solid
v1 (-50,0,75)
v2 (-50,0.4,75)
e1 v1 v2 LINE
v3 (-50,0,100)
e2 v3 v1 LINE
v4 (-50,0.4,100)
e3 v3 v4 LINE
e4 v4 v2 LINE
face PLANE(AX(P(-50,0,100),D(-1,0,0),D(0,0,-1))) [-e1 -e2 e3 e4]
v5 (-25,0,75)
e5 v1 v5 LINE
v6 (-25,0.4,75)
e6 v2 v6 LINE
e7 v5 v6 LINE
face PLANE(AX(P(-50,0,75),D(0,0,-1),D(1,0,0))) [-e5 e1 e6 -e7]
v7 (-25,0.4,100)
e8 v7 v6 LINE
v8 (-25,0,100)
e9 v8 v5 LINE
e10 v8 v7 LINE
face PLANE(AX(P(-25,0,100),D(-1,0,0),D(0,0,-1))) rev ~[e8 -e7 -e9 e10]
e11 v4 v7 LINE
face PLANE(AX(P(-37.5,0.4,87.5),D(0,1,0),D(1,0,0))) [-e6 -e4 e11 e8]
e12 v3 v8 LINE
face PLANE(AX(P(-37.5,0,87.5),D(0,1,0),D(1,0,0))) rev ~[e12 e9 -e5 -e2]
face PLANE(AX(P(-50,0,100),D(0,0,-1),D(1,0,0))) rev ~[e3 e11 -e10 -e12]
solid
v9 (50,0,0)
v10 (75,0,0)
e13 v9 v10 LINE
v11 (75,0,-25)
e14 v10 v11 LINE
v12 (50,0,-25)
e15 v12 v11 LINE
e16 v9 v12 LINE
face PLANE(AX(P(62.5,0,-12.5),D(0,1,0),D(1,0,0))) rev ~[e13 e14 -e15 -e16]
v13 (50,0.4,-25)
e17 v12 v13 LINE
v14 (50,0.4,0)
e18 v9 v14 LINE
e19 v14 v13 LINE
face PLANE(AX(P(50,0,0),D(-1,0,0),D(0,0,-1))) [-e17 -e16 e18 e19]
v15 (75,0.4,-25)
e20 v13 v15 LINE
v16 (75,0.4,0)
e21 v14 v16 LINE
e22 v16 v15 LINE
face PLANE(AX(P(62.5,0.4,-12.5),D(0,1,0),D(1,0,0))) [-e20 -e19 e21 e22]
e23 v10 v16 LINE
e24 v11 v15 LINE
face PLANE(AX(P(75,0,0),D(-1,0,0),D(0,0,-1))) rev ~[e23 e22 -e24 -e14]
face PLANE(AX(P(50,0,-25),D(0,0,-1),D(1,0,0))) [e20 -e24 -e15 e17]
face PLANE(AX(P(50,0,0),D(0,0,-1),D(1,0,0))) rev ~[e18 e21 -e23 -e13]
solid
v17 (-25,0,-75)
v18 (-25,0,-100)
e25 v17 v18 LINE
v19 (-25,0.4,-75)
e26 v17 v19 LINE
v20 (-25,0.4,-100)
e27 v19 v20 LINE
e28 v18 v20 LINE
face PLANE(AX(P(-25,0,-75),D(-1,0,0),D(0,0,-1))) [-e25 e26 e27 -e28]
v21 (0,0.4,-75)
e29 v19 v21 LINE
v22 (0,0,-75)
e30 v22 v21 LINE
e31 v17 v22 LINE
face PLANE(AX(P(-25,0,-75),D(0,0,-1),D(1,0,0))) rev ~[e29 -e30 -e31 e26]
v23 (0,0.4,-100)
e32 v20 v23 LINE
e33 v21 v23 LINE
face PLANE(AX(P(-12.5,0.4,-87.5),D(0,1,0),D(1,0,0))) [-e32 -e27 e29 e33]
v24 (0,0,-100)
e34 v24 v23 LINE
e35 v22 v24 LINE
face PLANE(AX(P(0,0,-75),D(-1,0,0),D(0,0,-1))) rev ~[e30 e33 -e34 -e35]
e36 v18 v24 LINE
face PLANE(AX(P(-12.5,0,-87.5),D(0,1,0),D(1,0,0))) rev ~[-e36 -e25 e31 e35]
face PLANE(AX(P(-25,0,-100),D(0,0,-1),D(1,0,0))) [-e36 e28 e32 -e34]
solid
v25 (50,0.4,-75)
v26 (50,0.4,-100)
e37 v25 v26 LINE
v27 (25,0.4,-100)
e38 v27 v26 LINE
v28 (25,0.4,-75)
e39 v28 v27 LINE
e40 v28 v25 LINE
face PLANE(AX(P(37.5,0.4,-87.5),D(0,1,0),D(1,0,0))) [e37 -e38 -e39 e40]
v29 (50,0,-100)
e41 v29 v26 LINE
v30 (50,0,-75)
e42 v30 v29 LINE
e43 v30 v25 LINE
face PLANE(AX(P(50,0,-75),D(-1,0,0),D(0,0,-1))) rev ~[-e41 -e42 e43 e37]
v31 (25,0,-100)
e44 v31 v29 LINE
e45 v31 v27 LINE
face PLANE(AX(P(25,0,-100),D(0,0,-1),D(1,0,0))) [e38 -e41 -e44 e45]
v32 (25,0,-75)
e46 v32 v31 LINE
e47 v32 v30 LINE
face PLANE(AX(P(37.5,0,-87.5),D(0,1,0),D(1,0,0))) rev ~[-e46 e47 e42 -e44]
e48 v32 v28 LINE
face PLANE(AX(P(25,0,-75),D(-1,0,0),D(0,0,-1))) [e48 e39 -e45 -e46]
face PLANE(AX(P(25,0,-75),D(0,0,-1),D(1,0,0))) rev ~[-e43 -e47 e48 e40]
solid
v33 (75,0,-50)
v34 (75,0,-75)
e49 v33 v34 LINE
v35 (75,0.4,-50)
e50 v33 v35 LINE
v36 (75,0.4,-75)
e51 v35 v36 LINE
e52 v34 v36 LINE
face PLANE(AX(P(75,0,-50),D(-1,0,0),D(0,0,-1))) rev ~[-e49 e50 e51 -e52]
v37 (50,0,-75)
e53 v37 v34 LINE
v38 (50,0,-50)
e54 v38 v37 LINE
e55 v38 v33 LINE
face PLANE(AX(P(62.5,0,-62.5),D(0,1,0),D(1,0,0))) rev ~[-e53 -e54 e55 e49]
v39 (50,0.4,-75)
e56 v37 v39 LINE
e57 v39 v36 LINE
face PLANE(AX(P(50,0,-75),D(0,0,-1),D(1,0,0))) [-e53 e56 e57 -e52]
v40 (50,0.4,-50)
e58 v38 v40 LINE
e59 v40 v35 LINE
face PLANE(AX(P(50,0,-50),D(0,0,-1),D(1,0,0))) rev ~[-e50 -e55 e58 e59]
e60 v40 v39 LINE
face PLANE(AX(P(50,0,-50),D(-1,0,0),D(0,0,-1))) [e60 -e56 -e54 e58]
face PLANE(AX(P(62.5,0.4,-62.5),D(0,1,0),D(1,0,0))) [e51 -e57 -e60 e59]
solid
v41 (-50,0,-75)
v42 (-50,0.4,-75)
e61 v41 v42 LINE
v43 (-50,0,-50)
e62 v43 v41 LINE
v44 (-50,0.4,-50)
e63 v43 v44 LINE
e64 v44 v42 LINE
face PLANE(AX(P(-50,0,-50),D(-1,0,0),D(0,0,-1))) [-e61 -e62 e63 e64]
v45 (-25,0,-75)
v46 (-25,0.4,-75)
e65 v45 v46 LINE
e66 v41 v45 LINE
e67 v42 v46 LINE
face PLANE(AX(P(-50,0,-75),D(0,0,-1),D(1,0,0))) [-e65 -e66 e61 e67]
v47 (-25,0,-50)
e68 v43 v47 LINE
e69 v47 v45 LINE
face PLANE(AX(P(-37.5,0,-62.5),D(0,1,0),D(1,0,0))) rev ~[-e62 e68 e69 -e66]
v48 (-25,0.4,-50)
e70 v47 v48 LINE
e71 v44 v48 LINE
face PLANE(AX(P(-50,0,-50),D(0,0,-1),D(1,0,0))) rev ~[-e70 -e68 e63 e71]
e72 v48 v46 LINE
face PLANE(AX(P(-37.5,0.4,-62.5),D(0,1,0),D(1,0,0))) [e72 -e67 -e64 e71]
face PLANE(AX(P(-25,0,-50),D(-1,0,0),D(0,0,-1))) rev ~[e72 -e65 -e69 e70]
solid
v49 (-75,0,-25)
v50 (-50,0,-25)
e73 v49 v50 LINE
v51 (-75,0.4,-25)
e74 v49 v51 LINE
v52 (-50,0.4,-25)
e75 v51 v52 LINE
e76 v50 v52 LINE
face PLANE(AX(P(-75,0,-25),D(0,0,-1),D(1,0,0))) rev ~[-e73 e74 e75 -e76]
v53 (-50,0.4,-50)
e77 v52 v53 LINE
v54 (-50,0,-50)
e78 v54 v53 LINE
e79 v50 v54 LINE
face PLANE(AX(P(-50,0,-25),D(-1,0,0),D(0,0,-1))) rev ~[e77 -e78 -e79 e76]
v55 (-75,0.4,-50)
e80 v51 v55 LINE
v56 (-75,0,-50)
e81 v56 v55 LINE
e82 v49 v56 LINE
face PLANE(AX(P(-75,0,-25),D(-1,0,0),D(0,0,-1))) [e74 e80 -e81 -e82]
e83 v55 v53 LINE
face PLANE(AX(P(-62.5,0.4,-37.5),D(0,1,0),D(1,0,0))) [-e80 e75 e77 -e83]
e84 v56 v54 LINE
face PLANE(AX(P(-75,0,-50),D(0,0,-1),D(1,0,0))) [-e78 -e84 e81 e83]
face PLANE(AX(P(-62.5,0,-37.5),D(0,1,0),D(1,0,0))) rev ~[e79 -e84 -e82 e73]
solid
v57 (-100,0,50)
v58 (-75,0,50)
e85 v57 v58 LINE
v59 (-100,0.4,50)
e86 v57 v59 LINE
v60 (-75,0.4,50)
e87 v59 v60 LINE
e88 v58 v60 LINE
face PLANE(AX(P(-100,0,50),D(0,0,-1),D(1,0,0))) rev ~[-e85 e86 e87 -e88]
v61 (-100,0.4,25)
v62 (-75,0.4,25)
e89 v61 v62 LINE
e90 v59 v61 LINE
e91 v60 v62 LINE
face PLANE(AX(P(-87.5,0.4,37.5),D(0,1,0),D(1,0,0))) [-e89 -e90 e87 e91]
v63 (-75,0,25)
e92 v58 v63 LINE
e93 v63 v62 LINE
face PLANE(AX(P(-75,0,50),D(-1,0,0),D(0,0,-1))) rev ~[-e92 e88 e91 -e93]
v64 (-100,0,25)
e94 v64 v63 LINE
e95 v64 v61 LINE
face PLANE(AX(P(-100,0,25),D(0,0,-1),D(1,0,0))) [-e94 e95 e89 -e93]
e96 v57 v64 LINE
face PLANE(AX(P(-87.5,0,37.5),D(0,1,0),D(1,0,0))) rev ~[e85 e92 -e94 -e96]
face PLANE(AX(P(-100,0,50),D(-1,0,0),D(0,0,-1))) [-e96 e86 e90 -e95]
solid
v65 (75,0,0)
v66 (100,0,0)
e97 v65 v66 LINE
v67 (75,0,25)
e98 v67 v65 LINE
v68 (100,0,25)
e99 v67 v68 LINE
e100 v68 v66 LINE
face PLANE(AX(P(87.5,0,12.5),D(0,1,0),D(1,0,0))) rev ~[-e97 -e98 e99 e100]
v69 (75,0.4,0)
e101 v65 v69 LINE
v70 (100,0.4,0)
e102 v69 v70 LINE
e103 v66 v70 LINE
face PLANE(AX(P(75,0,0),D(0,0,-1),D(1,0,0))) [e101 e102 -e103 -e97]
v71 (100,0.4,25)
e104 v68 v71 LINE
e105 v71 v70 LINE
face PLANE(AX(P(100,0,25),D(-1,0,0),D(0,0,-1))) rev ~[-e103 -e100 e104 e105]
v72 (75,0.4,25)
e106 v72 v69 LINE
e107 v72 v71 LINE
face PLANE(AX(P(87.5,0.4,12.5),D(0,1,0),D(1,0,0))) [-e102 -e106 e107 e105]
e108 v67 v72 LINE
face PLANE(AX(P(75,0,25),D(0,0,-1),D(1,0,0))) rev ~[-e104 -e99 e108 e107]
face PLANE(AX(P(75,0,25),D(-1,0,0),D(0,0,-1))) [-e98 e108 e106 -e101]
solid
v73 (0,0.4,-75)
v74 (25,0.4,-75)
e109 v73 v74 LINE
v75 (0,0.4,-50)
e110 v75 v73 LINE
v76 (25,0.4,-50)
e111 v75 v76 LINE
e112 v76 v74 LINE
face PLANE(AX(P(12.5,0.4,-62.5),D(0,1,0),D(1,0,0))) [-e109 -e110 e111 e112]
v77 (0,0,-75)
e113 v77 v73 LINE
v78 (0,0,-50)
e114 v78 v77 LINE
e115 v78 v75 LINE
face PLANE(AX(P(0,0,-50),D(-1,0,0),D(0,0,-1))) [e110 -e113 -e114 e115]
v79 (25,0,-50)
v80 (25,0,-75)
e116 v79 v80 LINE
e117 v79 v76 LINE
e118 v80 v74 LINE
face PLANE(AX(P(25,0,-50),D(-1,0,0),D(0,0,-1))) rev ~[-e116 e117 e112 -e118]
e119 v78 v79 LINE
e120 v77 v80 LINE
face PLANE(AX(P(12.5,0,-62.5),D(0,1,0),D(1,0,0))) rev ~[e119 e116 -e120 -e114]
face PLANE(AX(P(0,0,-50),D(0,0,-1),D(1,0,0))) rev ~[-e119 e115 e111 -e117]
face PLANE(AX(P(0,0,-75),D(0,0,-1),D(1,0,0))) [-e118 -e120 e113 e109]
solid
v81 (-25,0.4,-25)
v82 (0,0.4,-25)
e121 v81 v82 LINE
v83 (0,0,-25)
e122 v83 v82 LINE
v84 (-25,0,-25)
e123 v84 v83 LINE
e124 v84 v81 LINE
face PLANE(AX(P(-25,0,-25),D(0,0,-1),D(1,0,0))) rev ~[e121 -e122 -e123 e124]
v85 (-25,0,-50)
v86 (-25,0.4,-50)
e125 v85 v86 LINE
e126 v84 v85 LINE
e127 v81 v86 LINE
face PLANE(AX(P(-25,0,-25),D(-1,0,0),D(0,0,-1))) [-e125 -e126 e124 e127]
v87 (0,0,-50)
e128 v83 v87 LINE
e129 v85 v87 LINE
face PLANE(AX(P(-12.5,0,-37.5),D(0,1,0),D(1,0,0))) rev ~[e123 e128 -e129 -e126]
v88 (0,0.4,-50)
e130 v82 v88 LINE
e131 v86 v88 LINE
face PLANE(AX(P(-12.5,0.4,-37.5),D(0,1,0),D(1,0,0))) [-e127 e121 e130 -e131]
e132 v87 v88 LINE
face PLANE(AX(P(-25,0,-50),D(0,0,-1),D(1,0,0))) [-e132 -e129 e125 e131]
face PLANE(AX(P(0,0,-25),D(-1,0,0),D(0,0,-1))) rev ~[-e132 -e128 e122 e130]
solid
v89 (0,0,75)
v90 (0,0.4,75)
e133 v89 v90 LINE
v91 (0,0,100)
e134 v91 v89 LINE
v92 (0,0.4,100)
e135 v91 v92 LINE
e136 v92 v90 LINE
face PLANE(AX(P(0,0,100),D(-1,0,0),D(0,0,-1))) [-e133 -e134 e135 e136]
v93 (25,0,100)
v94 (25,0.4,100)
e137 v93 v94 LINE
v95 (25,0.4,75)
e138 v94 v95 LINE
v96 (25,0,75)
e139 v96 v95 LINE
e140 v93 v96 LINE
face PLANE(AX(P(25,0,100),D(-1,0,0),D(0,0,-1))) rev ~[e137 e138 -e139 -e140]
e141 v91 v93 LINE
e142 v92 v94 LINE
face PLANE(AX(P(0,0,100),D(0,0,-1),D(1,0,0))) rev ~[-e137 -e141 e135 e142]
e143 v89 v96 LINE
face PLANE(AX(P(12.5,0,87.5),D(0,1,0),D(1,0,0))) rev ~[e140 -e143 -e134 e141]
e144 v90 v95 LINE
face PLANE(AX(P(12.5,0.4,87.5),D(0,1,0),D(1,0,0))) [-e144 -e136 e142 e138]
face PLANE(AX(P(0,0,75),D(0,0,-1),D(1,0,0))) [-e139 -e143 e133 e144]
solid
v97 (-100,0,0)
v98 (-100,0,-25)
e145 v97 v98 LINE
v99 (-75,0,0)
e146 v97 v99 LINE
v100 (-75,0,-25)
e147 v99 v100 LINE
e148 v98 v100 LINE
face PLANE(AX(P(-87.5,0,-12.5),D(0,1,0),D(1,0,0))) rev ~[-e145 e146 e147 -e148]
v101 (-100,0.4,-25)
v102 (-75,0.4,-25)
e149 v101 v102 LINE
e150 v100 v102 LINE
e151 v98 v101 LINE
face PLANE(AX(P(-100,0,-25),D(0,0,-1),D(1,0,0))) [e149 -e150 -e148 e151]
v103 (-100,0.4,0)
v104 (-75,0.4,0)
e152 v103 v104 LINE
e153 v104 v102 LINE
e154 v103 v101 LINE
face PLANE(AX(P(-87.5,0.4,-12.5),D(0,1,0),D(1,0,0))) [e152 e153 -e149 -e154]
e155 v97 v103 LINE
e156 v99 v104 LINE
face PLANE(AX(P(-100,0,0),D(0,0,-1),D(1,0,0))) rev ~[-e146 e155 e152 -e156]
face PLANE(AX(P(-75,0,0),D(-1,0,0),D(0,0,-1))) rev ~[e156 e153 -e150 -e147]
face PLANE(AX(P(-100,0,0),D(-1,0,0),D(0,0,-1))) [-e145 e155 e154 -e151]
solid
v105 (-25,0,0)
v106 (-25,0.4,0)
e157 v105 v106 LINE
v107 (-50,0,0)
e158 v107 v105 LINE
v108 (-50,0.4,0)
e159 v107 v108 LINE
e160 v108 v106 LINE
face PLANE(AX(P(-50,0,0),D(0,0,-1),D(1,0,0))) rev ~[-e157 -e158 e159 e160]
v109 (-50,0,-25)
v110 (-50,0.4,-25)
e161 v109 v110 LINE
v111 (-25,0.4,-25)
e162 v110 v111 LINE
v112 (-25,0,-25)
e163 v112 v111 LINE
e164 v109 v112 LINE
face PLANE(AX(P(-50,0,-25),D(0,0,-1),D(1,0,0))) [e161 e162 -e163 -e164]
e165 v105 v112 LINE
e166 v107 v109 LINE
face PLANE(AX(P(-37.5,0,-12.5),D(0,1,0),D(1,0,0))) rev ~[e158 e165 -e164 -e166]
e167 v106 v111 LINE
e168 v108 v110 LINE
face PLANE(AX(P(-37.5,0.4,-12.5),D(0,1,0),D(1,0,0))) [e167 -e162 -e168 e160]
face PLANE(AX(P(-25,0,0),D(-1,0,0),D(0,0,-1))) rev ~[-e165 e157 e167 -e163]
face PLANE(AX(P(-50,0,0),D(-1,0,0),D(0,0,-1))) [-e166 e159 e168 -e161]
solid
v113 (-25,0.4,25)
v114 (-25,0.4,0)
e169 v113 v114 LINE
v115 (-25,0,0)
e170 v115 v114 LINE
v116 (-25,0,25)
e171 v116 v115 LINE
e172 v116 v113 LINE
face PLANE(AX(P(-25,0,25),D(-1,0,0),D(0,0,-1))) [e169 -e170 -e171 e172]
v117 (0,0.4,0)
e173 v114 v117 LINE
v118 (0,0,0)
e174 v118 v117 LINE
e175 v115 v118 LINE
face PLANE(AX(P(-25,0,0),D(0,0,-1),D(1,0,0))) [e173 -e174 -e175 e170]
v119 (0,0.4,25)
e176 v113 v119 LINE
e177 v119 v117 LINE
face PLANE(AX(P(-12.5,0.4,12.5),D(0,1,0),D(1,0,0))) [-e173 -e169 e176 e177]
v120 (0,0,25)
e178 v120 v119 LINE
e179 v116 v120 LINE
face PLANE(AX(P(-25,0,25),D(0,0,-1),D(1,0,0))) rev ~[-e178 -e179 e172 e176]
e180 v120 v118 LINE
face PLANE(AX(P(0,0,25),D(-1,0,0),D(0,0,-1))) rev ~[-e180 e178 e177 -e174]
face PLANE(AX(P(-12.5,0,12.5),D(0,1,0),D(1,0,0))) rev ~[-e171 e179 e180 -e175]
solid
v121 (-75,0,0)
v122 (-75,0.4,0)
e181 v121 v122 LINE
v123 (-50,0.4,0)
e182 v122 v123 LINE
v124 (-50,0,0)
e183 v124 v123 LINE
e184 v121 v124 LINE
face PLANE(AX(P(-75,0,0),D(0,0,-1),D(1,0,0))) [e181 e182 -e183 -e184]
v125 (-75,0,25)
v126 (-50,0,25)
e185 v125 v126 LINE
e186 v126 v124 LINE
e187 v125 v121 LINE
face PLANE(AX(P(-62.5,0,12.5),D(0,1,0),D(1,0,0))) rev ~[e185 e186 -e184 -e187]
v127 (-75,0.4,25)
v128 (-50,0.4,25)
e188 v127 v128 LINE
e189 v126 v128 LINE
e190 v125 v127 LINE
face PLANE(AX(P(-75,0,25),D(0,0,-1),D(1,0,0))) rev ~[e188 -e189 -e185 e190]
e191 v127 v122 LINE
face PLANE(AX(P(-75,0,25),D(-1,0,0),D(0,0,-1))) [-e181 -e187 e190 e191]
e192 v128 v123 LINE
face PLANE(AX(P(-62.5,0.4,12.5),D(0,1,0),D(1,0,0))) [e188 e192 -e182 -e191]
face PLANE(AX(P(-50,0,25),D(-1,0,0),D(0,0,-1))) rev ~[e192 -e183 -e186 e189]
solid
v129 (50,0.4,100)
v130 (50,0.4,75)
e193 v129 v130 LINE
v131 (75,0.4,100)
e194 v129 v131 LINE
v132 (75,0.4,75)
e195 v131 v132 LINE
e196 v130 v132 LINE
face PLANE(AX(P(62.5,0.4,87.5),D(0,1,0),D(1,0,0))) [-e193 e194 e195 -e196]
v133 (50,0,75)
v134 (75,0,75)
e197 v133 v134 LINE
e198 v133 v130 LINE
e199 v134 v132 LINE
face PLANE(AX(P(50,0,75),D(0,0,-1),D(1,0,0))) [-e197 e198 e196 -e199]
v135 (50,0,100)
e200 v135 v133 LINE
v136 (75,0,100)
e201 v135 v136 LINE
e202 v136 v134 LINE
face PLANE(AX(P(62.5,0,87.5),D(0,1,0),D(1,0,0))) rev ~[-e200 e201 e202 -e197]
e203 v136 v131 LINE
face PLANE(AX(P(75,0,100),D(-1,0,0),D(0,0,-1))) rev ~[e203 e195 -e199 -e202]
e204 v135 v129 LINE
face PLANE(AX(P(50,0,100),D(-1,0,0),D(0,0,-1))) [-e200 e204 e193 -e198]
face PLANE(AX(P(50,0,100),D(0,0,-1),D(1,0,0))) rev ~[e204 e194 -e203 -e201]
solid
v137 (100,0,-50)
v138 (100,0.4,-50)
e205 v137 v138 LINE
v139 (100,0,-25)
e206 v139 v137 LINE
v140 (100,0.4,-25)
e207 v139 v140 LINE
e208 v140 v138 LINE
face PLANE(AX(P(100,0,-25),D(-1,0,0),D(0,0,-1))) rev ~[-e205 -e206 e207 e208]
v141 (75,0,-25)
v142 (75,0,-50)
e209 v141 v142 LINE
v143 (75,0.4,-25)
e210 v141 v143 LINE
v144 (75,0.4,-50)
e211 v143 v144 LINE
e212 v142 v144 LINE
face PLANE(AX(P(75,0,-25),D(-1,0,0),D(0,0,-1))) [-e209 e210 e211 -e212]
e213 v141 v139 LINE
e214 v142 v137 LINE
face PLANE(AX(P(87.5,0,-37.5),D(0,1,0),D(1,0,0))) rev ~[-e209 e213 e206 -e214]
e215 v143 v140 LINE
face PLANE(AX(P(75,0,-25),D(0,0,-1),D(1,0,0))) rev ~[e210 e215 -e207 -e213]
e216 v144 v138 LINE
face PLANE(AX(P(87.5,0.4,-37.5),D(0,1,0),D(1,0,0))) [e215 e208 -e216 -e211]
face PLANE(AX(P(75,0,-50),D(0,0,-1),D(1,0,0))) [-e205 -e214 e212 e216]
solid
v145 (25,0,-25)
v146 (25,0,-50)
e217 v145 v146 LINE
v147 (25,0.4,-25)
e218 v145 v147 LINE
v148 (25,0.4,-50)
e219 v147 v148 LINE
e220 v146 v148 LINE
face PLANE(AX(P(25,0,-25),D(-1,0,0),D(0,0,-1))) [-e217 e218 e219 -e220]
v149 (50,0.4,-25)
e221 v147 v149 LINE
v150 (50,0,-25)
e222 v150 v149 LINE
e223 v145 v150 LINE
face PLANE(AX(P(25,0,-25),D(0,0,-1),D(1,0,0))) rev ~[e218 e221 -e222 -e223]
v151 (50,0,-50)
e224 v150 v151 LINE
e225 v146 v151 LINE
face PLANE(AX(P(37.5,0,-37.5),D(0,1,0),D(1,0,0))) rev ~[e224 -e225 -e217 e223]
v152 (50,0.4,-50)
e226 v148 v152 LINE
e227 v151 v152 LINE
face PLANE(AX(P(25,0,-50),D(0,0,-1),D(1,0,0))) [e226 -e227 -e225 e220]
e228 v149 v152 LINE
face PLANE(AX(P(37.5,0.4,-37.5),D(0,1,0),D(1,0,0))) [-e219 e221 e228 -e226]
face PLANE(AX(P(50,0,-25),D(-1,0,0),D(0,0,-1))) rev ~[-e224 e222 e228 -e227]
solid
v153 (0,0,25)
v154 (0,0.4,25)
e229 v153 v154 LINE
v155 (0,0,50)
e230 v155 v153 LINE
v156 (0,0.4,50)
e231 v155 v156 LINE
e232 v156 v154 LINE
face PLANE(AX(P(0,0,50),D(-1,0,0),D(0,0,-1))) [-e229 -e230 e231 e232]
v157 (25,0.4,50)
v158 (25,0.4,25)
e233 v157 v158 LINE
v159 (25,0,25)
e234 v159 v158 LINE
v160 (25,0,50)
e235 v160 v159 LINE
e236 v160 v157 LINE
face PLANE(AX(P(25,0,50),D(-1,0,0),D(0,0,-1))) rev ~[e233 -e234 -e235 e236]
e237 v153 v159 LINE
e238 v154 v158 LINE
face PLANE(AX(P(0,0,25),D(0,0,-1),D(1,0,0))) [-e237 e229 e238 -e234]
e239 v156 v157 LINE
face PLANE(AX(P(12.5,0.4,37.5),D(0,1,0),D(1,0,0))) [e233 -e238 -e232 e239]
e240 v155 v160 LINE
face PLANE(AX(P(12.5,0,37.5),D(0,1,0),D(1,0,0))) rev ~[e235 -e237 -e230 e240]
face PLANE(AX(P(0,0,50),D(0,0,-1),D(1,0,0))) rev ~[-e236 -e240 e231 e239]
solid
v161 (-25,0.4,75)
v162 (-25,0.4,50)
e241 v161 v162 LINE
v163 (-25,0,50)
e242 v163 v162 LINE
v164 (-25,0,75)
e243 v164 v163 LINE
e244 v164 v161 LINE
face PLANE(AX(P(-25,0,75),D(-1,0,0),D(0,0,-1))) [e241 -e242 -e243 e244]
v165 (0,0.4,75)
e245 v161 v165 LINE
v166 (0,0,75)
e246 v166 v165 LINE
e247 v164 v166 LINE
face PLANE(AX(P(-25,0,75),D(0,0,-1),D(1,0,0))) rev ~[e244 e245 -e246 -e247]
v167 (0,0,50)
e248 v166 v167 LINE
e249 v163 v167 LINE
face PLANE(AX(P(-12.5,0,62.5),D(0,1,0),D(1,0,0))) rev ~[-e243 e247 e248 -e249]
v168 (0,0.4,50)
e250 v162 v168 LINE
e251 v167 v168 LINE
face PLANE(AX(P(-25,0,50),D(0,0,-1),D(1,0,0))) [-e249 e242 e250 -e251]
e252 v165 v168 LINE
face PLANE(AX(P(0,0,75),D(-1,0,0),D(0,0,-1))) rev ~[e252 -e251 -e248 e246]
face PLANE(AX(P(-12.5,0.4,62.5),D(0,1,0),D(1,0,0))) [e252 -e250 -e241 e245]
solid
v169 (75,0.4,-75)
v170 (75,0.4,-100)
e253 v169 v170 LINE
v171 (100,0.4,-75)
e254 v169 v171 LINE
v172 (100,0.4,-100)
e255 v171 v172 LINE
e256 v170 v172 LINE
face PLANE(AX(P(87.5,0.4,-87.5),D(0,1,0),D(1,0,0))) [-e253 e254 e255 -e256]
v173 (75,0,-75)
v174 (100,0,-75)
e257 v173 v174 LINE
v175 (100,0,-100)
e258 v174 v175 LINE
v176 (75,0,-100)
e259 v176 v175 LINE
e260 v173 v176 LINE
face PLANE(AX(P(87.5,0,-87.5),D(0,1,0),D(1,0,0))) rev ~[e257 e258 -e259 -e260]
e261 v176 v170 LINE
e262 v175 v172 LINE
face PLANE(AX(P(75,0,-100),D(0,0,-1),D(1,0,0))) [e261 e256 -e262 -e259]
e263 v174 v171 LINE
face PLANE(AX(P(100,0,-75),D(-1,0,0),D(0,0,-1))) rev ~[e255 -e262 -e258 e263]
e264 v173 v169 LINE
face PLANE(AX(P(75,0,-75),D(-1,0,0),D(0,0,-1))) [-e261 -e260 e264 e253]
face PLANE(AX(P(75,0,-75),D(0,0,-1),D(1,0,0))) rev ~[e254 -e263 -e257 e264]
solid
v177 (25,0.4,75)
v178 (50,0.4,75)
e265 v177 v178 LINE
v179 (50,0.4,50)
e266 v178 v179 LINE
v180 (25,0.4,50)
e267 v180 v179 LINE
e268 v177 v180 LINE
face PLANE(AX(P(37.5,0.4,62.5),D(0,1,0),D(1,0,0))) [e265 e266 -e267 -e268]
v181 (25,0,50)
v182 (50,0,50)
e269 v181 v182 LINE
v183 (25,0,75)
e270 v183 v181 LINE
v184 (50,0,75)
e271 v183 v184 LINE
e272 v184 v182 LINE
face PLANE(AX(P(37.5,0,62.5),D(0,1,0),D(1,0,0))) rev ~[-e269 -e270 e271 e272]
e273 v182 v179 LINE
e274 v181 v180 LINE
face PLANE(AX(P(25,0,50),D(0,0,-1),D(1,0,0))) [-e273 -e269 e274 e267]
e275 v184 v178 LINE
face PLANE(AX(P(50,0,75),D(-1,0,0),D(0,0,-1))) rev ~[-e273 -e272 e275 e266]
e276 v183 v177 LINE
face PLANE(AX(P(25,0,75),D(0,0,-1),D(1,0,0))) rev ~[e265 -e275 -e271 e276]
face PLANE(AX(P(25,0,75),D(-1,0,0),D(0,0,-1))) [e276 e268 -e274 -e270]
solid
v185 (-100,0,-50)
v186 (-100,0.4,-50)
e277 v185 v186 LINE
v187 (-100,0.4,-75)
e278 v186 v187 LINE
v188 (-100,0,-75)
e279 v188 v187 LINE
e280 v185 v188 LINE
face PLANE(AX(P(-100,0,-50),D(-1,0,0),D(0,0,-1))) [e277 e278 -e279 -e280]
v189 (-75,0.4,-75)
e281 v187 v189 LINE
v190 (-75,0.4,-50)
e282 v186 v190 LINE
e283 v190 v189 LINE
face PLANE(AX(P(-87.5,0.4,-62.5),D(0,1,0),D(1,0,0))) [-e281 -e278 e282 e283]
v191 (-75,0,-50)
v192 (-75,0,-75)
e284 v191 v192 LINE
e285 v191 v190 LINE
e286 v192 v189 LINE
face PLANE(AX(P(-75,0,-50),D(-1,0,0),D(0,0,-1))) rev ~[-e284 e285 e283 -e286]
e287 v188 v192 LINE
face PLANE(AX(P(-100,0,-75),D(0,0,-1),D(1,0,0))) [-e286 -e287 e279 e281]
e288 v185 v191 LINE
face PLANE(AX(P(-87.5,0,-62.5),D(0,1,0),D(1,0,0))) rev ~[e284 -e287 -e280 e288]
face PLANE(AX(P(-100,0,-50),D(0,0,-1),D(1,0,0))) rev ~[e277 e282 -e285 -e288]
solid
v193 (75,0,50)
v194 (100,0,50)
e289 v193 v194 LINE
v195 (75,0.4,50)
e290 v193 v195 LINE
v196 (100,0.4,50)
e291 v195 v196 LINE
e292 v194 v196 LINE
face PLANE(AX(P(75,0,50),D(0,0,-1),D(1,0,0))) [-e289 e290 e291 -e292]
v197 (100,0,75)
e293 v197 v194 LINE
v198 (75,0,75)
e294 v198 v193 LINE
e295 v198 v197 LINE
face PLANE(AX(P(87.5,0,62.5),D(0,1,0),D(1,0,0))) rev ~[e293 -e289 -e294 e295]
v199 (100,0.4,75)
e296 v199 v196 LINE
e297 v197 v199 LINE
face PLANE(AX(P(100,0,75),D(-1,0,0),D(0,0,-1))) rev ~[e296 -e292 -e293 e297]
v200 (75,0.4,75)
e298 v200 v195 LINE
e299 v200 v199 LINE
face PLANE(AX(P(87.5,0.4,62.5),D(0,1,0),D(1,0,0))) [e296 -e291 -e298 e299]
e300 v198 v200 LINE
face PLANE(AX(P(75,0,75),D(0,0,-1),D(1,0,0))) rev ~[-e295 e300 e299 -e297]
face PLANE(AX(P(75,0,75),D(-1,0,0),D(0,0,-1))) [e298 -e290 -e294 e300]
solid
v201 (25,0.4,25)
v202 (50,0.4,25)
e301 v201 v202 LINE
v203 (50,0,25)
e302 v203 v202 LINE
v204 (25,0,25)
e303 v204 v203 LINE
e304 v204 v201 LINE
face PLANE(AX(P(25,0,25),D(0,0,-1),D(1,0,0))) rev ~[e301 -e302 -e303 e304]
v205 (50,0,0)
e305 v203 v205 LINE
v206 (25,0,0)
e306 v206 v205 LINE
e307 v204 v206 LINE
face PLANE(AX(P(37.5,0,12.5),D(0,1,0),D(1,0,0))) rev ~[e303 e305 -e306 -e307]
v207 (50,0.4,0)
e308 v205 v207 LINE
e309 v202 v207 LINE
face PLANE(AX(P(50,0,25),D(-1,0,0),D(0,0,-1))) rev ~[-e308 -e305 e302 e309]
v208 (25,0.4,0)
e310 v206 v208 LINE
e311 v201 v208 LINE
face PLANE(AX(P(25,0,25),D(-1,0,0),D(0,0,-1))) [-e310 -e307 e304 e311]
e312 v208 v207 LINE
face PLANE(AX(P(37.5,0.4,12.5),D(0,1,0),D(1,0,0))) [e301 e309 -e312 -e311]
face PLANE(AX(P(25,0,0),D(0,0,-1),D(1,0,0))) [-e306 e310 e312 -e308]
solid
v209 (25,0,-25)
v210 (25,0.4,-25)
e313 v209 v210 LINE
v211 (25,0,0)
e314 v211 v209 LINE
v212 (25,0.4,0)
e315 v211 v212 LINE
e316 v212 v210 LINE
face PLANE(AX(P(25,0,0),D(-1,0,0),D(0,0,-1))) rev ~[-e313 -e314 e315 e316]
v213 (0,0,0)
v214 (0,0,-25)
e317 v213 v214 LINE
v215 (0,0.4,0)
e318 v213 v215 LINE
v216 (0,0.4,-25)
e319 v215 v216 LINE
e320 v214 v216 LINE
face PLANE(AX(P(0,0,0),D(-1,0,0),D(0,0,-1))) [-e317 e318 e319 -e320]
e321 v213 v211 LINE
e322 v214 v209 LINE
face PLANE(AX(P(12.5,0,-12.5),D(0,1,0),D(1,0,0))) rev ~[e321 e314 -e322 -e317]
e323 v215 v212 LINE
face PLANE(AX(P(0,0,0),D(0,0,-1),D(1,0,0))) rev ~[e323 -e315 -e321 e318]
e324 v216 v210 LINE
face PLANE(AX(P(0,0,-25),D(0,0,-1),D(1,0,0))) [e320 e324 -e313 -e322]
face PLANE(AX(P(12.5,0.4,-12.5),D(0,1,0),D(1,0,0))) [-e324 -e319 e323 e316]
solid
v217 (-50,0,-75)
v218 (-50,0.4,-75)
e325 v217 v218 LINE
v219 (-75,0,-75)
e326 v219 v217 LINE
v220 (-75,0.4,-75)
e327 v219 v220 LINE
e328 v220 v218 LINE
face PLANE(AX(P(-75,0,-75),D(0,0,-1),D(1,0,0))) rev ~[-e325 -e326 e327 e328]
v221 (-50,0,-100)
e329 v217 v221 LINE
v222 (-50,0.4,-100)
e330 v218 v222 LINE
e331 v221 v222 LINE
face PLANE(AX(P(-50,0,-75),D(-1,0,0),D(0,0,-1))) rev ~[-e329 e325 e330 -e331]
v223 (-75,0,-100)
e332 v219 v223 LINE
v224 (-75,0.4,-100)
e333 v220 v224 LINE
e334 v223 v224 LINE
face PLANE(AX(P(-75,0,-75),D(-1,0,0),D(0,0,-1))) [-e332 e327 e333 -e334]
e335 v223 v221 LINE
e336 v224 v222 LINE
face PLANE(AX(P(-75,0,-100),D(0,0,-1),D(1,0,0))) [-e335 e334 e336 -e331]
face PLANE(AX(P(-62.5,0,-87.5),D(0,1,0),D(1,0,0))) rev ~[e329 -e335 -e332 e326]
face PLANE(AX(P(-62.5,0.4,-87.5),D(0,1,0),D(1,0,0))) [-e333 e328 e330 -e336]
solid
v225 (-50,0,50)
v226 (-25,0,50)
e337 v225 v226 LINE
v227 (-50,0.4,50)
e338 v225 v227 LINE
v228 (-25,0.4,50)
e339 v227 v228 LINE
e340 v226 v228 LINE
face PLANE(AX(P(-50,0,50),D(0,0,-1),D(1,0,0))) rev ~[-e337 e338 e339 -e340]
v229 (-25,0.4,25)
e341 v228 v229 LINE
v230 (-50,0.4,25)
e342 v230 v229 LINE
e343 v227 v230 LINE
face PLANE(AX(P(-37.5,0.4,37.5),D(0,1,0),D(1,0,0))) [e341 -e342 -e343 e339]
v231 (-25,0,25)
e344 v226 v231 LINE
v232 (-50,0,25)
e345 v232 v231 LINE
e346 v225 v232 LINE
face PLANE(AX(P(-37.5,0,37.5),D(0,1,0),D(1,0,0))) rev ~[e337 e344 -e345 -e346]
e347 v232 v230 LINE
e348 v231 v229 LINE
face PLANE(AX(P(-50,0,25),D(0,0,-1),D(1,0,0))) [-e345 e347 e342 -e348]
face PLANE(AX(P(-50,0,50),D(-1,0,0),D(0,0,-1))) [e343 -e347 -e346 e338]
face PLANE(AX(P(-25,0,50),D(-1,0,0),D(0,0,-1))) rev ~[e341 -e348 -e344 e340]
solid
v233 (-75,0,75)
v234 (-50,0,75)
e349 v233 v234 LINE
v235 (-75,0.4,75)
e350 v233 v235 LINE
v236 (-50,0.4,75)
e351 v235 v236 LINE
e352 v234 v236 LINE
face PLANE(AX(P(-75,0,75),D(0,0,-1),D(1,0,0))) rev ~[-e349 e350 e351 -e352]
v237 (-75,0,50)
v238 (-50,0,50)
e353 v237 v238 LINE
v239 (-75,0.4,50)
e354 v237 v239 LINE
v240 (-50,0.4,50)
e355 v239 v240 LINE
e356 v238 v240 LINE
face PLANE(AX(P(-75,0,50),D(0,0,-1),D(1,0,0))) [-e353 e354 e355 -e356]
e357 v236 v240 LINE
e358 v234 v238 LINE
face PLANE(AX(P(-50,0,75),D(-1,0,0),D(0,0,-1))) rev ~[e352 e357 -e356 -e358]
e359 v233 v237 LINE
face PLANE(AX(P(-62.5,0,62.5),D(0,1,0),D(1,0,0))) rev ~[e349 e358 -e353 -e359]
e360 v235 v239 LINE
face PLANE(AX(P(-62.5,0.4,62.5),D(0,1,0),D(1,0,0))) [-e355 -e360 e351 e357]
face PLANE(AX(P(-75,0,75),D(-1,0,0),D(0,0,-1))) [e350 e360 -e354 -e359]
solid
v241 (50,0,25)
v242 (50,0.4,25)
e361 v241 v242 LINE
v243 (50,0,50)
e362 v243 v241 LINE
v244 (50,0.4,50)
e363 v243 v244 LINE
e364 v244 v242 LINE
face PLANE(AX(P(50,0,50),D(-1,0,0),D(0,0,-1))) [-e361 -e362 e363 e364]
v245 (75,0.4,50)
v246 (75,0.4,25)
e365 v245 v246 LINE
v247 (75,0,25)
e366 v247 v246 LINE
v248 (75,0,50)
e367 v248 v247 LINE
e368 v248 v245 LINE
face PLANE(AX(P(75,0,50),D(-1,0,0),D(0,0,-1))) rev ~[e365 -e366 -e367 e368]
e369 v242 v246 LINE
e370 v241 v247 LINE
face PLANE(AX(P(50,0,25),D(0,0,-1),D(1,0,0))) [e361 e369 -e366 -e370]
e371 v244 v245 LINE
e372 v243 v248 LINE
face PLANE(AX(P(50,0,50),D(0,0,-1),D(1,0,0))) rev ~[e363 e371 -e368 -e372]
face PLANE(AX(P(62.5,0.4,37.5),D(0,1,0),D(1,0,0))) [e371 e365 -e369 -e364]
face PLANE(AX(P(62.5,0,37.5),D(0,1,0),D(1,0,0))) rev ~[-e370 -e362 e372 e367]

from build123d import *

# Parameters (mm, degrees)
SKETCH1_W              = 25
SKETCH1_H              = 25
BOSS_EXTRUDE1_DEPTH    = 0.4
BOSS_EXTRUDE1_2_DEPTH  = 0.4
BOSS_EXTRUDE1_3_DEPTH  = 0.4
BOSS_EXTRUDE1_4_DEPTH  = 0.4
BOSS_EXTRUDE1_5_DEPTH  = 0.4
BOSS_EXTRUDE1_6_DEPTH  = 0.4
BOSS_EXTRUDE1_7_DEPTH  = 0.4
BOSS_EXTRUDE1_8_DEPTH  = 0.4
BOSS_EXTRUDE1_9_DEPTH  = 0.4
BOSS_EXTRUDE1_10_DEPTH = 0.4
BOSS_EXTRUDE1_11_DEPTH = 0.4
BOSS_EXTRUDE1_12_DEPTH = 0.4
BOSS_EXTRUDE1_13_DEPTH = 0.4
BOSS_EXTRUDE1_14_DEPTH = 0.4
BOSS_EXTRUDE1_15_DEPTH = 0.4
BOSS_EXTRUDE1_16_DEPTH = 0.4
BOSS_EXTRUDE1_17_DEPTH = 0.4
BOSS_EXTRUDE1_18_DEPTH = 0.4
BOSS_EXTRUDE1_19_DEPTH = 0.4
BOSS_EXTRUDE1_20_DEPTH = 0.4
BOSS_EXTRUDE1_21_DEPTH = 0.4
BOSS_EXTRUDE1_22_DEPTH = 0.4
BOSS_EXTRUDE1_23_DEPTH = 0.4
BOSS_EXTRUDE1_24_DEPTH = 0.4
BOSS_EXTRUDE1_25_DEPTH = 0.4
BOSS_EXTRUDE1_26_DEPTH = 0.4
BOSS_EXTRUDE1_27_DEPTH = 0.4
BOSS_EXTRUDE1_28_DEPTH = 0.4
BOSS_EXTRUDE1_29_DEPTH = 0.4
BOSS_EXTRUDE1_30_DEPTH = 0.4
BOSS_EXTRUDE1_31_DEPTH = 0.4


with BuildPart() as part:
    # Sketch1 → Boss-Extrude1 (new body)
    with BuildSketch(Plane(origin=(0, 0, 0), x_dir=(1, 0, 0), z_dir=(0, 1, 0))):
        with Locations((-62.5, -62.5)):
            Rectangle(SKETCH1_W, SKETCH1_H)
    extrude(amount=BOSS_EXTRUDE1_DEPTH)


with BuildPart() as body_2:
    # Sketch1 → Boss-Extrude1 2 (new body)
    with BuildSketch(Plane(origin=(0, 0, 0), x_dir=(1, 0, 0), z_dir=(0, 1, 0))):
        with Locations((-37.5, -87.5)):
            Rectangle(SKETCH1_W, SKETCH1_H)
    extrude(amount=BOSS_EXTRUDE1_2_DEPTH)


with BuildPart() as body_3:
    # Sketch1 → Boss-Extrude1 3 (new body)
    with BuildSketch(Plane(origin=(0, 0, 0), x_dir=(1, 0, 0), z_dir=(0, 1, 0))):
        with Locations((-12.5, -62.5)):
            Rectangle(SKETCH1_W, SKETCH1_H)
    extrude(amount=BOSS_EXTRUDE1_3_DEPTH)


with BuildPart() as body_4:
    # Sketch1 → Boss-Extrude1 4 (new body)
    with BuildSketch(Plane(origin=(0, 0, 0), x_dir=(1, 0, 0), z_dir=(0, 1, 0))):
        with Locations((12.5, -87.5)):
            Rectangle(SKETCH1_W, SKETCH1_H)
    extrude(amount=BOSS_EXTRUDE1_4_DEPTH)


with BuildPart() as body_5:
    # Sketch1 → Boss-Extrude1 5 (new body)
    with BuildSketch(Plane(origin=(0, 0, 0), x_dir=(1, 0, 0), z_dir=(0, 1, 0))):
        with Locations((37.5, -62.5)):
            Rectangle(SKETCH1_W, SKETCH1_H)
    extrude(amount=BOSS_EXTRUDE1_5_DEPTH)


with BuildPart() as body_6:
    # Sketch1 → Boss-Extrude1 6 (new body)
    with BuildSketch(Plane(origin=(0, 0, 0), x_dir=(1, 0, 0), z_dir=(0, 1, 0))):
        with Locations((62.5, -87.5)):
            Rectangle(SKETCH1_W, SKETCH1_H)
    extrude(amount=BOSS_EXTRUDE1_6_DEPTH)


with BuildPart() as body_7:
    # Sketch1 → Boss-Extrude1 7 (new body)
    with BuildSketch(Plane(origin=(0, 0, 0), x_dir=(1, 0, 0), z_dir=(0, 1, 0))):
        with Locations((87.5, -62.5)):
            Rectangle(SKETCH1_W, SKETCH1_H)
    extrude(amount=BOSS_EXTRUDE1_7_DEPTH)


with BuildPart() as body_8:
    # Sketch1 → Boss-Extrude1 8 (new body)
    with BuildSketch(Plane(origin=(0, 0, 0), x_dir=(1, 0, 0), z_dir=(0, 1, 0))):
        with Locations((62.5, -37.5)):
            Rectangle(SKETCH1_W, SKETCH1_H)
    extrude(amount=BOSS_EXTRUDE1_8_DEPTH)


with BuildPart() as body_9:
    # Sketch1 → Boss-Extrude1 9 (new body)
    with BuildSketch(Plane(origin=(0, 0, 0), x_dir=(1, 0, 0), z_dir=(0, 1, 0))):
        with Locations((37.5, -12.5)):
            Rectangle(SKETCH1_W, SKETCH1_H)
    extrude(amount=BOSS_EXTRUDE1_9_DEPTH)


with BuildPart() as body_10:
    # Sketch1 → Boss-Extrude1 10 (new body)
    with BuildSketch(Plane(origin=(0, 0, 0), x_dir=(1, 0, 0), z_dir=(0, 1, 0))):
        with Locations((12.5, -37.5)):
            Rectangle(SKETCH1_W, SKETCH1_H)
    extrude(amount=BOSS_EXTRUDE1_10_DEPTH)


with BuildPart() as body_11:
    # Sketch1 → Boss-Extrude1 11 (new body)
    with BuildSketch(Plane(origin=(0, 0, 0), x_dir=(1, 0, 0), z_dir=(0, 1, 0))):
        with Locations((-37.5, -37.5)):
            Rectangle(SKETCH1_W, SKETCH1_H)
    extrude(amount=BOSS_EXTRUDE1_11_DEPTH)


with BuildPart() as body_12:
    # Sketch1 → Boss-Extrude1 12 (new body)
    with BuildSketch(Plane(origin=(0, 0, 0), x_dir=(1, 0, 0), z_dir=(0, 1, 0))):
        with Locations((-87.5, -37.5)):
            Rectangle(SKETCH1_W, SKETCH1_H)
    extrude(amount=BOSS_EXTRUDE1_12_DEPTH)


with BuildPart() as body_13:
    # Sketch1 → Boss-Extrude1 13 (new body)
    with BuildSketch(Plane(origin=(0, 0, 0), x_dir=(1, 0, 0), z_dir=(0, 1, 0))):
        with Locations((-62.5, -12.5)):
            Rectangle(SKETCH1_W, SKETCH1_H)
    extrude(amount=BOSS_EXTRUDE1_13_DEPTH)


with BuildPart() as body_14:
    # Sketch1 → Boss-Extrude1 14 (new body)
    with BuildSketch(Plane(origin=(0, 0, 0), x_dir=(1, 0, 0), z_dir=(0, 1, 0))):
        with Locations((-87.5, 12.5)):
            Rectangle(SKETCH1_W, SKETCH1_H)
    extrude(amount=BOSS_EXTRUDE1_14_DEPTH)


with BuildPart() as body_15:
    # Sketch1 → Boss-Extrude1 15 (new body)
    with BuildSketch(Plane(origin=(0, 0, 0), x_dir=(1, 0, 0), z_dir=(0, 1, 0))):
        with Locations((-62.5, 37.5)):
            Rectangle(SKETCH1_W, SKETCH1_H)
    extrude(amount=BOSS_EXTRUDE1_15_DEPTH)


with BuildPart() as body_16:
    # Sketch1 → Boss-Extrude1 16 (new body)
    with BuildSketch(Plane(origin=(0, 0, 0), x_dir=(1, 0, 0), z_dir=(0, 1, 0))):
        with Locations((-87.5, 62.5)):
            Rectangle(SKETCH1_W, SKETCH1_H)
    extrude(amount=BOSS_EXTRUDE1_16_DEPTH)


with BuildPart() as body_17:
    # Sketch1 → Boss-Extrude1 17 (new body)
    with BuildSketch(Plane(origin=(0, 0, 0), x_dir=(1, 0, 0), z_dir=(0, 1, 0))):
        with Locations((-62.5, 87.5)):
            Rectangle(SKETCH1_W, SKETCH1_H)
    extrude(amount=BOSS_EXTRUDE1_17_DEPTH)


with BuildPart() as body_18:
    # Sketch1 → Boss-Extrude1 18 (new body)
    with BuildSketch(Plane(origin=(0, 0, 0), x_dir=(1, 0, 0), z_dir=(0, 1, 0))):
        with Locations((-37.5, 62.5)):
            Rectangle(SKETCH1_W, SKETCH1_H)
    extrude(amount=BOSS_EXTRUDE1_18_DEPTH)


with BuildPart() as body_19:
    # Sketch1 → Boss-Extrude1 19 (new body)
    with BuildSketch(Plane(origin=(0, 0, 0), x_dir=(1, 0, 0), z_dir=(0, 1, 0))):
        with Locations((-12.5, 87.5)):
            Rectangle(SKETCH1_W, SKETCH1_H)
    extrude(amount=BOSS_EXTRUDE1_19_DEPTH)


with BuildPart() as body_20:
    # Sketch1 → Boss-Extrude1 20 (new body)
    with BuildSketch(Plane(origin=(0, 0, 0), x_dir=(1, 0, 0), z_dir=(0, 1, 0))):
        with Locations((12.5, 62.5)):
            Rectangle(SKETCH1_W, SKETCH1_H)
    extrude(amount=BOSS_EXTRUDE1_20_DEPTH)


with BuildPart() as body_21:
    # Sketch1 → Boss-Extrude1 21 (new body)
    with BuildSketch(Plane(origin=(0, 0, 0), x_dir=(1, 0, 0), z_dir=(0, 1, 0))):
        with Locations((37.5, 87.5)):
            Rectangle(SKETCH1_W, SKETCH1_H)
    extrude(amount=BOSS_EXTRUDE1_21_DEPTH)


with BuildPart() as body_22:
    # Sketch1 → Boss-Extrude1 22 (new body)
    with BuildSketch(Plane(origin=(0, 0, 0), x_dir=(1, 0, 0), z_dir=(0, 1, 0))):
        with Locations((62.5, 62.5)):
            Rectangle(SKETCH1_W, SKETCH1_H)
    extrude(amount=BOSS_EXTRUDE1_22_DEPTH)


with BuildPart() as body_23:
    # Sketch1 → Boss-Extrude1 23 (new body)
    with BuildSketch(Plane(origin=(0, 0, 0), x_dir=(1, 0, 0), z_dir=(0, 1, 0))):
        with Locations((87.5, 37.5)):
            Rectangle(SKETCH1_W, SKETCH1_H)
    extrude(amount=BOSS_EXTRUDE1_23_DEPTH)


with BuildPart() as body_24:
    # Sketch1 → Boss-Extrude1 24 (new body)
    with BuildSketch(Plane(origin=(0, 0, 0), x_dir=(1, 0, 0), z_dir=(0, 1, 0))):
        with Locations((62.5, 12.5)):
            Rectangle(SKETCH1_W, SKETCH1_H)
    extrude(amount=BOSS_EXTRUDE1_24_DEPTH)


with BuildPart() as body_25:
    # Sketch1 → Boss-Extrude1 25 (new body)
    with BuildSketch(Plane(origin=(0, 0, 0), x_dir=(1, 0, 0), z_dir=(0, 1, 0))):
        with Locations((87.5, -12.5)):
            Rectangle(SKETCH1_W, SKETCH1_H)
    extrude(amount=BOSS_EXTRUDE1_25_DEPTH)


with BuildPart() as body_26:
    # Sketch1 → Boss-Extrude1 26 (new body)
    with BuildSketch(Plane(origin=(0, 0, 0), x_dir=(1, 0, 0), z_dir=(0, 1, 0))):
        with Locations((37.5, 37.5)):
            Rectangle(SKETCH1_W, SKETCH1_H)
    extrude(amount=BOSS_EXTRUDE1_26_DEPTH)


with BuildPart() as body_27:
    # Sketch1 → Boss-Extrude1 27 (new body)
    with BuildSketch(Plane(origin=(0, 0, 0), x_dir=(1, 0, 0), z_dir=(0, 1, 0))):
        with Locations((12.5, 12.5)):
            Rectangle(SKETCH1_W, SKETCH1_H)
    extrude(amount=BOSS_EXTRUDE1_27_DEPTH)


with BuildPart() as body_28:
    # Sketch1 → Boss-Extrude1 28 (new body)
    with BuildSketch(Plane(origin=(0, 0, 0), x_dir=(1, 0, 0), z_dir=(0, 1, 0))):
        with Locations((-12.5, 37.5)):
            Rectangle(SKETCH1_W, SKETCH1_H)
    extrude(amount=BOSS_EXTRUDE1_28_DEPTH)


with BuildPart() as body_29:
    # Sketch1 → Boss-Extrude1 29 (new body)
    with BuildSketch(Plane(origin=(0, 0, 0), x_dir=(1, 0, 0), z_dir=(0, 1, 0))):
        with Locations((-37.5, 12.5)):
            Rectangle(SKETCH1_W, SKETCH1_H)
    extrude(amount=BOSS_EXTRUDE1_29_DEPTH)


with BuildPart() as body_30:
    # Sketch1 → Boss-Extrude1 30 (new body)
    with BuildSketch(Plane(origin=(0, 0, 0), x_dir=(1, 0, 0), z_dir=(0, 1, 0))):
        with Locations((-12.5, -12.5)):
            Rectangle(SKETCH1_W, SKETCH1_H)
    extrude(amount=BOSS_EXTRUDE1_30_DEPTH)


with BuildPart() as body_31:
    # Sketch1 → Boss-Extrude1 31 (new body)
    with BuildSketch(Plane(origin=(0, 0, 0), x_dir=(1, 0, 0), z_dir=(0, 1, 0))):
        with Locations((87.5, 87.5)):
            Rectangle(SKETCH1_W, SKETCH1_H)
    extrude(amount=BOSS_EXTRUDE1_31_DEPTH)


solid = Compound([part.part, body_2.part, body_3.part, body_4.part, body_5.part, body_6.part, body_7.part, body_8.part, body_9.part, body_10.part, body_11.part, body_12.part, body_13.part, body_14.part, body_15.part, body_16.part, body_17.part, body_18.part, body_19.part, body_20.part, body_21.part, body_22.part, body_23.part, body_24.part, body_25.part, body_26.part, body_27.part, body_28.part, body_29.part, body_30.part, body_31.part])
